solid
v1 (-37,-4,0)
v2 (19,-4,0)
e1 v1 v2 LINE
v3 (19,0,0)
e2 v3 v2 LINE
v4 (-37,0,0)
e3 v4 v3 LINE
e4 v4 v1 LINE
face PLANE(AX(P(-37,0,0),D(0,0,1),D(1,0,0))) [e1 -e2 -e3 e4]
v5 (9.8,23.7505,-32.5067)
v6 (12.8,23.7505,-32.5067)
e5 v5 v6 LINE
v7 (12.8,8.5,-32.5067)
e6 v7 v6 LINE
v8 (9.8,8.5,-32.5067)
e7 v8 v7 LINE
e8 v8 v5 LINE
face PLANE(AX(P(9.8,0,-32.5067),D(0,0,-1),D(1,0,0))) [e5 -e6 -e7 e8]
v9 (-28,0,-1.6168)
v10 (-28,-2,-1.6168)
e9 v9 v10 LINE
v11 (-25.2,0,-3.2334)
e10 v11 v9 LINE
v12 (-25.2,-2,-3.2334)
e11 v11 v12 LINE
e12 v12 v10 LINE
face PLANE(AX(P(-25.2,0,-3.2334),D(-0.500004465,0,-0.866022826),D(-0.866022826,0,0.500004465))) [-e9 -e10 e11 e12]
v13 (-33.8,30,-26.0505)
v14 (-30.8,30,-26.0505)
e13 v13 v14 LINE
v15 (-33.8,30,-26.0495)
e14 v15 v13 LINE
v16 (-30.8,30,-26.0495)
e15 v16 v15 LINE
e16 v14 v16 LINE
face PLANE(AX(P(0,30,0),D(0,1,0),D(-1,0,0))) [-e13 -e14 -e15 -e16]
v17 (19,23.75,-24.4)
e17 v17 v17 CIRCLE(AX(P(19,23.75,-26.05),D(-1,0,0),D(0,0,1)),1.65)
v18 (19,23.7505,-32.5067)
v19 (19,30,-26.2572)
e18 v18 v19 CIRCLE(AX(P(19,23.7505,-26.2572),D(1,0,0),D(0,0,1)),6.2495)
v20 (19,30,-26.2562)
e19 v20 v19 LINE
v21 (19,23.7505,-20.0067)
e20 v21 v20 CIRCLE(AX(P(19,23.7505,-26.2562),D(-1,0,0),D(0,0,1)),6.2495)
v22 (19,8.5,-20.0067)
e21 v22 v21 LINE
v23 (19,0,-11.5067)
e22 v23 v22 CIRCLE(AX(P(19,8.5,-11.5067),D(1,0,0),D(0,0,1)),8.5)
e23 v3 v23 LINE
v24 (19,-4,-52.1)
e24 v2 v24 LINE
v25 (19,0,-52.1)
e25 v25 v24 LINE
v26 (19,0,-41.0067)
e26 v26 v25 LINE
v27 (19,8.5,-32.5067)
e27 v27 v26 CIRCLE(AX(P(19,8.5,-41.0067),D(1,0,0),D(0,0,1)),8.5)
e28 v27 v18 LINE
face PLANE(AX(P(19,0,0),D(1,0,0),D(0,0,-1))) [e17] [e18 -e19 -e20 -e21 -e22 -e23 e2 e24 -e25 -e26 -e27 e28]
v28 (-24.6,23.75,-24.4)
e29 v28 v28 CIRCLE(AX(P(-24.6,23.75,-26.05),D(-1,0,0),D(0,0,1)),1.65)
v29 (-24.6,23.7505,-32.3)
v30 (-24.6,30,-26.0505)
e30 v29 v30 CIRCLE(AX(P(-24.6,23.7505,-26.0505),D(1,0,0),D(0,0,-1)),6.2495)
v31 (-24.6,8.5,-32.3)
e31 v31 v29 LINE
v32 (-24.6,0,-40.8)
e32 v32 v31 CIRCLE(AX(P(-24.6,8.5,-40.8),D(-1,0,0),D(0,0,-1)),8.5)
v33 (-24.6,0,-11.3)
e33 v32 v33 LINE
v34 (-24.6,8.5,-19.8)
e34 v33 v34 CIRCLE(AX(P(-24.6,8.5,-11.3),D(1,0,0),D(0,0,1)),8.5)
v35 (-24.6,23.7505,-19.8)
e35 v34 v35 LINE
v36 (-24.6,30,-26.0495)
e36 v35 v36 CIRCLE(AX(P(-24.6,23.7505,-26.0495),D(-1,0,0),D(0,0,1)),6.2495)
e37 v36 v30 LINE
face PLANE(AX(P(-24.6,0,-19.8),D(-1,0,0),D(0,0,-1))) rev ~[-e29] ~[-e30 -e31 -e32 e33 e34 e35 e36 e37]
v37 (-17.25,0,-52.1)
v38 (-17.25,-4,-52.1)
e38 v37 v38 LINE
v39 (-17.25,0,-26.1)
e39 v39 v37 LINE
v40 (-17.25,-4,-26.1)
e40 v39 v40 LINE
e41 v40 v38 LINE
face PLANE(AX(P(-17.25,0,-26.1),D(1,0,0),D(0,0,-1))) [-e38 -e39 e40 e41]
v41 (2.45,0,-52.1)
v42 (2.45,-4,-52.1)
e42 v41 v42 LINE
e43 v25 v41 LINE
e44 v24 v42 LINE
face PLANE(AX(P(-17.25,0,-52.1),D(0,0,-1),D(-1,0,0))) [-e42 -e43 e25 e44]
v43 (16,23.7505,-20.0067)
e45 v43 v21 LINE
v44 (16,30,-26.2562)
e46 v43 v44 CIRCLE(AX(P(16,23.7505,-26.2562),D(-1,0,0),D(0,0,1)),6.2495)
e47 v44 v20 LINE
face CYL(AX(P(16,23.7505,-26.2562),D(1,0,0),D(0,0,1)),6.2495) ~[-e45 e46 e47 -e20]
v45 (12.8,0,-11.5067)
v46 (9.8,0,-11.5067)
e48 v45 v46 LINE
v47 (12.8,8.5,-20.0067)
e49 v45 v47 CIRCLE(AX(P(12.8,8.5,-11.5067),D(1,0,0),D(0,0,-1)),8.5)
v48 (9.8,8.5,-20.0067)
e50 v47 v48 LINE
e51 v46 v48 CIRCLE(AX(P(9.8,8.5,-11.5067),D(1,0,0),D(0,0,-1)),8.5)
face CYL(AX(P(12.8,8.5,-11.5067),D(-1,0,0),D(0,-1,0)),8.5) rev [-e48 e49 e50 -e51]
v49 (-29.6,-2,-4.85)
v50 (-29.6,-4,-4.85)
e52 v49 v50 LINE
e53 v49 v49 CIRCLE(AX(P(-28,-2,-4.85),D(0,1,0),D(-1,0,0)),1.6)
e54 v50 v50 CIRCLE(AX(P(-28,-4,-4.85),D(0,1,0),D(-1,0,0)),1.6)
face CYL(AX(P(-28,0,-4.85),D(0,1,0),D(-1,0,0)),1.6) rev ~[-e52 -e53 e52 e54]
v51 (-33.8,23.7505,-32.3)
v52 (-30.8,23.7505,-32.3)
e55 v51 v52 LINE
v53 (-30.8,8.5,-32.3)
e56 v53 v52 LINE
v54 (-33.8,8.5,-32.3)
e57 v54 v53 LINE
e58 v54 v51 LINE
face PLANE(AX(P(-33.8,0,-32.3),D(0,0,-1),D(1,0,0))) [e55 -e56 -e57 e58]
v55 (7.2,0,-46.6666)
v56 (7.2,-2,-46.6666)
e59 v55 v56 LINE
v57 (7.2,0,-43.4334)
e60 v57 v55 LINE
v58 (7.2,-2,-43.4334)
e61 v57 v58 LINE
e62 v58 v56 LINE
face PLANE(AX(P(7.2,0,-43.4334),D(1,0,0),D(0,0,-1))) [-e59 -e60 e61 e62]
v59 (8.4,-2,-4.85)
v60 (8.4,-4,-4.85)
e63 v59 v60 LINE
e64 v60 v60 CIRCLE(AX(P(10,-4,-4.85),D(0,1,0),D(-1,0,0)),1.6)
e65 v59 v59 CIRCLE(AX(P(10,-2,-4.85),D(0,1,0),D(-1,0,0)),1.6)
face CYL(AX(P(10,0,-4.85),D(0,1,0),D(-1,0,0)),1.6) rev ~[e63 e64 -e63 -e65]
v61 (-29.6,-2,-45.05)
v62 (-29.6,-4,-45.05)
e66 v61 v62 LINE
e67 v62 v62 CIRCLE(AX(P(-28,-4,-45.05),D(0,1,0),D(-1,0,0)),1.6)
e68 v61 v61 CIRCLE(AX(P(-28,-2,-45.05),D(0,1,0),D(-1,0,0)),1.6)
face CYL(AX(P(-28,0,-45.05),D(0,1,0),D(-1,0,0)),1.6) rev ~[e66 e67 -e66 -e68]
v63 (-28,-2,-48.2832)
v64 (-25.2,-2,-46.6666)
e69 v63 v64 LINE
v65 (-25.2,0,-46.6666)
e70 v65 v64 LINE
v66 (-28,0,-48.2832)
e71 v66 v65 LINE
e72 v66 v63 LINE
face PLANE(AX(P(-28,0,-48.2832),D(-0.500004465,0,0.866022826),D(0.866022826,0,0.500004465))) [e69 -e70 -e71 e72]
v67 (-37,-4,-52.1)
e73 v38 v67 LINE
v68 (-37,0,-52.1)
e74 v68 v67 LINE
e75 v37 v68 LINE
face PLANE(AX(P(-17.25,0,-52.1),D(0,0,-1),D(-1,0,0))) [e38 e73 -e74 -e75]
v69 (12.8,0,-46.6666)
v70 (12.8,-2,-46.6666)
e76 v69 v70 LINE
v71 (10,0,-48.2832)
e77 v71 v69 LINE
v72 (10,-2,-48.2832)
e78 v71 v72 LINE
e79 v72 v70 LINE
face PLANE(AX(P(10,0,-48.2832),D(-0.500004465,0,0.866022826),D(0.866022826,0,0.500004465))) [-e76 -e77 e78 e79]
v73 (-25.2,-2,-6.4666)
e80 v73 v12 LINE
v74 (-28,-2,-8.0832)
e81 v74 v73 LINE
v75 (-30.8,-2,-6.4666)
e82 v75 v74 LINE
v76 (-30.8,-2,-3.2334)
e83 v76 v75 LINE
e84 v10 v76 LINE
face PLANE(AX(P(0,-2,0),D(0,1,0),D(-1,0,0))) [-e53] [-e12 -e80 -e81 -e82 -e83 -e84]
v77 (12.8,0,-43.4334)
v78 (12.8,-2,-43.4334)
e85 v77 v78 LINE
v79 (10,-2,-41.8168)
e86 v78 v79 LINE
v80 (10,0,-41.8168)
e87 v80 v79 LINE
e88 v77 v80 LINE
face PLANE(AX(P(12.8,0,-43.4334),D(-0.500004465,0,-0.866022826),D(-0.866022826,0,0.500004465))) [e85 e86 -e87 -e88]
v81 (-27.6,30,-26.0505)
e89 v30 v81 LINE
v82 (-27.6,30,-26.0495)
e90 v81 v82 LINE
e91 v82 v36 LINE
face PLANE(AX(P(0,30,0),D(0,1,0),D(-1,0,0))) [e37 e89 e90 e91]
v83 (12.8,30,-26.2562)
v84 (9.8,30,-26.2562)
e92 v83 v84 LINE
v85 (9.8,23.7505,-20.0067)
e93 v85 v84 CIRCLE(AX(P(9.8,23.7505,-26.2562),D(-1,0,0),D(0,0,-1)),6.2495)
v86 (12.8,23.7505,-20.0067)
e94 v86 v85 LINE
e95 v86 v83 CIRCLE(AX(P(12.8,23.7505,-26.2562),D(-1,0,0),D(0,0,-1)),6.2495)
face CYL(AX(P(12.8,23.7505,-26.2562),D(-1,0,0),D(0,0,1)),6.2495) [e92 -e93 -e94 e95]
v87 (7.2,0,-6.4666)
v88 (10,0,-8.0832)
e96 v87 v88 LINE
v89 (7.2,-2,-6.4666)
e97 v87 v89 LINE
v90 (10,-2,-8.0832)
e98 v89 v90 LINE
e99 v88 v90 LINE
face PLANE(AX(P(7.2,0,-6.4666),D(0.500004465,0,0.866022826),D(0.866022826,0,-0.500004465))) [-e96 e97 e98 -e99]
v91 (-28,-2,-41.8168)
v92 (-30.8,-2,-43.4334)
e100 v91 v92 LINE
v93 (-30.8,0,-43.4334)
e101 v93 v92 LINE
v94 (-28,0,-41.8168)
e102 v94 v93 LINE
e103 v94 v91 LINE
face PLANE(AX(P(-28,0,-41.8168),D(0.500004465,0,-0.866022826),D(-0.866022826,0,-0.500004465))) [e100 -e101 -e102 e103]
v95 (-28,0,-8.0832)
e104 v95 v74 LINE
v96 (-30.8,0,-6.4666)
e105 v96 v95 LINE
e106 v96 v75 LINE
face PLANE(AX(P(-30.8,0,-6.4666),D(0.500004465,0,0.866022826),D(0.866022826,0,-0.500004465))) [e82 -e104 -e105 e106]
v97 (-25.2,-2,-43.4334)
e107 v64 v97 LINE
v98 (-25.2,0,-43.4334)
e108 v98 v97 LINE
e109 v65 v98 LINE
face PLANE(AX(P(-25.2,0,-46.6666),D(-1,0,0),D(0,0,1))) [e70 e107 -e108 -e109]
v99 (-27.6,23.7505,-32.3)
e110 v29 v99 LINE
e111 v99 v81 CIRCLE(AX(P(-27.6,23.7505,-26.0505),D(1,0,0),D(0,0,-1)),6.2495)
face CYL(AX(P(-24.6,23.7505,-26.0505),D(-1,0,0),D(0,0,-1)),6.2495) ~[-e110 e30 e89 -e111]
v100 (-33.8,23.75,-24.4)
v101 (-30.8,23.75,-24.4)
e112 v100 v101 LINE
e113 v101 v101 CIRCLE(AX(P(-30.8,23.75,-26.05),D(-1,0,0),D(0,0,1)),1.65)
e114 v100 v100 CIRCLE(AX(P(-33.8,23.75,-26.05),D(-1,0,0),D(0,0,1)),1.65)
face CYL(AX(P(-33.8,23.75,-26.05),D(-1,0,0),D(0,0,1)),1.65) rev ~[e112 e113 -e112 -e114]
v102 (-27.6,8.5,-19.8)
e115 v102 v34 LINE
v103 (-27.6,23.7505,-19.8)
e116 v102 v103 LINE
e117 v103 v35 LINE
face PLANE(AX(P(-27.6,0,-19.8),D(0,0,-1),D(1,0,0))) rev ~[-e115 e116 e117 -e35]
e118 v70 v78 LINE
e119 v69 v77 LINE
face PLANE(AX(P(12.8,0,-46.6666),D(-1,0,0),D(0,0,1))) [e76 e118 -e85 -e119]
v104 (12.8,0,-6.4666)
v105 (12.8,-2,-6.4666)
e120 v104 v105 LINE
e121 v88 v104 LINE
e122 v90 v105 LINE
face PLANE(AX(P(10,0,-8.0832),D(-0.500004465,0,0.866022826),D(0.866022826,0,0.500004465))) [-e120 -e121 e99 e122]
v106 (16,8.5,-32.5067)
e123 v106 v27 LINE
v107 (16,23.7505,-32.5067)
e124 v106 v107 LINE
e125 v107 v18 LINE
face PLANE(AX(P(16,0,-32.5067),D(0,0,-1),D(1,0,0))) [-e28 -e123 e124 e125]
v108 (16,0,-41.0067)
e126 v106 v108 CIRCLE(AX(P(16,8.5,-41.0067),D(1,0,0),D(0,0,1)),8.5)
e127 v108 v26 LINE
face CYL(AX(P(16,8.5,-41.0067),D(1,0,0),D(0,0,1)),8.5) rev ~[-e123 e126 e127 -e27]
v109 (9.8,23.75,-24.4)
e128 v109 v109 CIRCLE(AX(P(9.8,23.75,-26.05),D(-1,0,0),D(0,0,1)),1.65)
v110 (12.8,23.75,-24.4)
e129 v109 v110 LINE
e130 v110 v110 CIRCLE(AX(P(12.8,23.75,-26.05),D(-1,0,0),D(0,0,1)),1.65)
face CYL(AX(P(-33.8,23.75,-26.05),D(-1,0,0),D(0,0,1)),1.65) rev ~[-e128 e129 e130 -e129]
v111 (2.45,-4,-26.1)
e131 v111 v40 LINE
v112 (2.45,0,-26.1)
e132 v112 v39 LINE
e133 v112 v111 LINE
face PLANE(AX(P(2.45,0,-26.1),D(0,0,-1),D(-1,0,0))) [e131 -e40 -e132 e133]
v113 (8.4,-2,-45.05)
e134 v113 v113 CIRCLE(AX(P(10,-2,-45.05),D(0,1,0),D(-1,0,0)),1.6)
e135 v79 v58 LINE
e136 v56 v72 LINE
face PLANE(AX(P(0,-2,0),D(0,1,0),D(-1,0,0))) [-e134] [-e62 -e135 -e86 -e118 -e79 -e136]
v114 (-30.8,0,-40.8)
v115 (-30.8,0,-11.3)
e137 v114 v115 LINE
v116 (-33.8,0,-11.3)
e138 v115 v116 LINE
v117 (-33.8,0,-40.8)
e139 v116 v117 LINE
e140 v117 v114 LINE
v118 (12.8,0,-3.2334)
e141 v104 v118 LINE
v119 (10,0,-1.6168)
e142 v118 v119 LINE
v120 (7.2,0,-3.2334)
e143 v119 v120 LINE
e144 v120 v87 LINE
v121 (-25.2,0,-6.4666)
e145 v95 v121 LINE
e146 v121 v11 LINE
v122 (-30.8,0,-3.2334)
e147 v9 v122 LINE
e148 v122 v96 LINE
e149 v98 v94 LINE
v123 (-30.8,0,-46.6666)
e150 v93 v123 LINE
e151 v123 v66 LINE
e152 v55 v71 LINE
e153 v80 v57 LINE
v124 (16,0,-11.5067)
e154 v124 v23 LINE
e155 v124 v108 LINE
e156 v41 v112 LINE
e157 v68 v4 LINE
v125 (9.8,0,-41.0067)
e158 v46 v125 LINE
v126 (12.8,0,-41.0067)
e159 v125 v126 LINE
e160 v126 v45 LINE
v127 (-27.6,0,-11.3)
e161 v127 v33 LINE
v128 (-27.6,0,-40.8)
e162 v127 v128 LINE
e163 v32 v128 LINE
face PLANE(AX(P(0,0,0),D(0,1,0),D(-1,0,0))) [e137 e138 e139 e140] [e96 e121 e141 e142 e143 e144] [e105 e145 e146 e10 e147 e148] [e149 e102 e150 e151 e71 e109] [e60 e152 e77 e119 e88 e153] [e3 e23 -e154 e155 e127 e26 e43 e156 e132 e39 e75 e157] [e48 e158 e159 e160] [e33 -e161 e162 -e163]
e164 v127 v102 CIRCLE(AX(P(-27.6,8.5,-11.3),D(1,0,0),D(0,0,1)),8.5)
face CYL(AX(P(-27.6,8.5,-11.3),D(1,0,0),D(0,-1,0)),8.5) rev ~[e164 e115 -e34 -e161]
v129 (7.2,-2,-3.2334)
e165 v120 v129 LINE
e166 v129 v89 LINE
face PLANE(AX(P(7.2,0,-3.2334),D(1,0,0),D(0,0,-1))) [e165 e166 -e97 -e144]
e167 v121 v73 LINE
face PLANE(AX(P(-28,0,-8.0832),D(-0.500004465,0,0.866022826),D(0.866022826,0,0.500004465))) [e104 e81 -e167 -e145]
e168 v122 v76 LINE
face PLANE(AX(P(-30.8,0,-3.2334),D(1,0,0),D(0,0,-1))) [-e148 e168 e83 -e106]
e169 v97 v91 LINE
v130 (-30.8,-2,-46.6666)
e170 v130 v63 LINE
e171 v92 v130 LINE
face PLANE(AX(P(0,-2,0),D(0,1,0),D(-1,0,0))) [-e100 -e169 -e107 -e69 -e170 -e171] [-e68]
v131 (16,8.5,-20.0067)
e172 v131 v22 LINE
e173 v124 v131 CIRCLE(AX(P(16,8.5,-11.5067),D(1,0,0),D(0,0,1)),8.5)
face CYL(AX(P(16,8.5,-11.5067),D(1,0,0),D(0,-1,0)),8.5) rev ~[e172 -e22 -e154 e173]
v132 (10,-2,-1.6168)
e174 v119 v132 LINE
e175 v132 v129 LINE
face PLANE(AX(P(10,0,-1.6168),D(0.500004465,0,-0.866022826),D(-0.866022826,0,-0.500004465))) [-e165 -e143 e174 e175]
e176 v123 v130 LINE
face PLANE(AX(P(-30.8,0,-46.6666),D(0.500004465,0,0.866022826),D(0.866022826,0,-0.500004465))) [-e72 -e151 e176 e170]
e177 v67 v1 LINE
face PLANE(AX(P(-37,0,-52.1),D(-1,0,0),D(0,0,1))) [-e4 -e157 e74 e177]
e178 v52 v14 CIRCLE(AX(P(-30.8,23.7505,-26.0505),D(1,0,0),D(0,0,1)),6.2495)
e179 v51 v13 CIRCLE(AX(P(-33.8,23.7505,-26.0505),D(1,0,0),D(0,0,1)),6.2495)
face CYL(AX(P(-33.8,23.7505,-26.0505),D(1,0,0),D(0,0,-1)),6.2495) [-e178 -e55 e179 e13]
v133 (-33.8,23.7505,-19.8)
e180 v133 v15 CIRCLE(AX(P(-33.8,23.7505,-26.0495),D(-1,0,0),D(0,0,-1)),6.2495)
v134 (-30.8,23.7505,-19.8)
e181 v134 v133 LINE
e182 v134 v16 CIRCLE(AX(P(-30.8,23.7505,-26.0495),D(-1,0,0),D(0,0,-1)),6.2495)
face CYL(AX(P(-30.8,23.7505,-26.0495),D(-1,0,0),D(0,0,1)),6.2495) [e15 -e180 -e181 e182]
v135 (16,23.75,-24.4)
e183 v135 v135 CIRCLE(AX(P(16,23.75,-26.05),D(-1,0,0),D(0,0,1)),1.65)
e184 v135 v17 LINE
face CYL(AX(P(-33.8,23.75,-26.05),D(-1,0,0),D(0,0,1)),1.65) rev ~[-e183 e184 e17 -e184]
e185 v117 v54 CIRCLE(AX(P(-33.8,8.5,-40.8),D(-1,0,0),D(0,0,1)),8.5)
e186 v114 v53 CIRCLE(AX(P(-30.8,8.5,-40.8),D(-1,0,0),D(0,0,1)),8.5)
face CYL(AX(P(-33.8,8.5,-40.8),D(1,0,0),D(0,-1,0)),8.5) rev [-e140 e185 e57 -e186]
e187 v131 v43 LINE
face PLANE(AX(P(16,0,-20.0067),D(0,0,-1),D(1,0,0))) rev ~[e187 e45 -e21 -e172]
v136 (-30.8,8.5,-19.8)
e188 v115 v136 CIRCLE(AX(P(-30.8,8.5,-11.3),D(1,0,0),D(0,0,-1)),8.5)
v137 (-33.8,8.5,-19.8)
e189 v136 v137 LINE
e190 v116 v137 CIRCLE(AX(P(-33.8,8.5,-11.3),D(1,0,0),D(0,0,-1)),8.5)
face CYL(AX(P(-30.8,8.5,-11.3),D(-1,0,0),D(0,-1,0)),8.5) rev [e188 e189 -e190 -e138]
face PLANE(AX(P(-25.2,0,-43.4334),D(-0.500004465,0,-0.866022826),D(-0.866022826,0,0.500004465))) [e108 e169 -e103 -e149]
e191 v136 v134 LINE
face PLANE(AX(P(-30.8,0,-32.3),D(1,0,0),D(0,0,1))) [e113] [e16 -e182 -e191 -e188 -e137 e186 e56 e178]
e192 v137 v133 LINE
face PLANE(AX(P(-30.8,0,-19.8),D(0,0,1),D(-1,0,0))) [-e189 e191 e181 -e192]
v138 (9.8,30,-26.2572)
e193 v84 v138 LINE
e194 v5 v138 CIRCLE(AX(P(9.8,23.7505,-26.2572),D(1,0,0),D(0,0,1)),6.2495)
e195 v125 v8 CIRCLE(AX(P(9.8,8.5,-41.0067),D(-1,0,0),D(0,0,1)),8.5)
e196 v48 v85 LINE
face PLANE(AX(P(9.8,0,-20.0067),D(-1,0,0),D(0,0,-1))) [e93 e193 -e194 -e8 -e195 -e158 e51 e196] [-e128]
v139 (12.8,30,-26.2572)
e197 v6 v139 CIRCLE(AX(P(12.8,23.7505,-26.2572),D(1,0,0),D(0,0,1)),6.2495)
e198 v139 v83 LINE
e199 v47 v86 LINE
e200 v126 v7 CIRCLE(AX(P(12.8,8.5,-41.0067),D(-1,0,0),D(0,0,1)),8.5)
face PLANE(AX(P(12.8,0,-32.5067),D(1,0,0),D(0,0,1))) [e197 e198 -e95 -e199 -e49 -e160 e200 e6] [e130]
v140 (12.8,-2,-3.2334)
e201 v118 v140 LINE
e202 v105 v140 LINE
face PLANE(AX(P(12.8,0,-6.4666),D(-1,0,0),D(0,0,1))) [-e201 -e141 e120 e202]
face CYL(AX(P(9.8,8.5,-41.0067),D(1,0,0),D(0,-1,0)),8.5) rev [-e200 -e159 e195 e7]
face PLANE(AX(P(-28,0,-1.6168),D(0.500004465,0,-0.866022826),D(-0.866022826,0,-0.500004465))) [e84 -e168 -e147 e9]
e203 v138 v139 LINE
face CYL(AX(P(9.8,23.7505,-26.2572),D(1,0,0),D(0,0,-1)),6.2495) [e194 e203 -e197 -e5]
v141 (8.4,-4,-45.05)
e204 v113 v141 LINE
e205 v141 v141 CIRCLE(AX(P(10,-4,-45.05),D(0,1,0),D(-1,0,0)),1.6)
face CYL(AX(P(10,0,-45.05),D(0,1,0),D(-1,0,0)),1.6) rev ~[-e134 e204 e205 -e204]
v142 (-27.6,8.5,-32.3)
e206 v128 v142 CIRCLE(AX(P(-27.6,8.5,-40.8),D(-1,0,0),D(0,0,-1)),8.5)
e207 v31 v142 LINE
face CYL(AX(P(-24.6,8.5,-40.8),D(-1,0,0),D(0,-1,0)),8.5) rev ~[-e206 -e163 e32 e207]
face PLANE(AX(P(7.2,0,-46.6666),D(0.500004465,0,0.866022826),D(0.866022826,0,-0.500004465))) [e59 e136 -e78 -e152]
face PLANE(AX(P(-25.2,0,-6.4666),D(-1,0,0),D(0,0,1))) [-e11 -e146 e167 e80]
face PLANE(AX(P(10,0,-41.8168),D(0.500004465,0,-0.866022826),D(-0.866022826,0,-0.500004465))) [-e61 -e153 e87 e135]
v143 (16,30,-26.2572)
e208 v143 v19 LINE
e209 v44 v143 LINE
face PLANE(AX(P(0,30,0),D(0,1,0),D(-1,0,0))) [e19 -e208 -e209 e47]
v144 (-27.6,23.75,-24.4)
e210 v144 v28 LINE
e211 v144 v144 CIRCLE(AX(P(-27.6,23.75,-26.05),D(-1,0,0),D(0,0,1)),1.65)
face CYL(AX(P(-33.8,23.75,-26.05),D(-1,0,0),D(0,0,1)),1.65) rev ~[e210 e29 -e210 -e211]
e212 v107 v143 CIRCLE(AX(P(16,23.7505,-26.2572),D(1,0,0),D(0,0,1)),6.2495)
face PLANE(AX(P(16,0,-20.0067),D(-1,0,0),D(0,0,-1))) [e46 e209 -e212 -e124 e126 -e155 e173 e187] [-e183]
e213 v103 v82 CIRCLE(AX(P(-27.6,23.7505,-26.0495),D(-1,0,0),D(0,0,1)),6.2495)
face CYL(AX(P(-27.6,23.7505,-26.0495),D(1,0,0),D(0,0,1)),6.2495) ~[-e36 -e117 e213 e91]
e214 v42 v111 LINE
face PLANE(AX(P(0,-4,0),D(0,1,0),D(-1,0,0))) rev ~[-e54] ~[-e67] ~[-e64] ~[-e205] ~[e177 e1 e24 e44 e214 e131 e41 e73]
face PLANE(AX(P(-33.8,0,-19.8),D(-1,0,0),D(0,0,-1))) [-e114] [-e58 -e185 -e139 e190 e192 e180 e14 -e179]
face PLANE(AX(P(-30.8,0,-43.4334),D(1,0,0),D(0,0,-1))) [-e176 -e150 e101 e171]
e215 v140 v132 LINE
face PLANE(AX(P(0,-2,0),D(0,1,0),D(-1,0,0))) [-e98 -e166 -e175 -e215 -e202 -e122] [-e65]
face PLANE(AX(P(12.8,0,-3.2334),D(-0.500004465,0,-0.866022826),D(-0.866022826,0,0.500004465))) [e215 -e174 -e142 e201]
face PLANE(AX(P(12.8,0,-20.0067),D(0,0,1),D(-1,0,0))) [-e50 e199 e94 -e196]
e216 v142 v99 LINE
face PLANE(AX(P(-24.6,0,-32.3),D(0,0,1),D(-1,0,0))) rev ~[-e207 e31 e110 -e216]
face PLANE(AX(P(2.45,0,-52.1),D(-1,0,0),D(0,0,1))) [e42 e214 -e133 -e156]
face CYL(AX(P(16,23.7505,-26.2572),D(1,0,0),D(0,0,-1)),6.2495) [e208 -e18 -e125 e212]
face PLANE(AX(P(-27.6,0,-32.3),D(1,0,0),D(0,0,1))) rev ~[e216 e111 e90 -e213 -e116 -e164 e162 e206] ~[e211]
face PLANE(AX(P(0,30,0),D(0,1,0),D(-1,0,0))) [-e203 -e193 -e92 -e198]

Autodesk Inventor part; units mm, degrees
ref_plane "YZ Plane" through (0, 0, 0) normal (1, 0, 0) x (0, 1, 0)
ref_plane "XZ Plane" through (0, 0, 0) normal (0, 1, 0) x (-1, 0, 0)
ref_plane "XY Plane" through (0, 0, 0) normal (0, 0, 1) x (1, 0, 0)
sketch "Sketch1" plane through (0, 0, 0) normal (0, 1, 0) x (-1, 0, 0)
  circle A0 centre (28, -4.85) radius 1.6
  line L0 (28, -8.0832) -> (25.2, -6.4666)
  line L1 (25.2, -6.4666) -> (25.2, -3.2334)
  line L2 (25.2, -3.2334) -> (28, -1.6168)
  line L3 (28, -1.6168) -> (30.8, -3.2334)
  line L4 (30.8, -3.2334) -> (30.8, -6.4666)
  line L5 (30.8, -6.4666) -> (28, -8.0832)
  line L6 (-16, -20.0067) -> (-16, -32.5067)
  line L7 (37, -52.1) -> (37, 0)
  line L8 (-16, -32.5067) -> (-19, -32.5067)
  line L9 (-16, -20.0067) -> (-19, -20.0067)
  line L10 (-12.8, -32.5067) -> (-12.8, -20.0067)
  line L11 (-12.8, -20.0067) -> (-9.8, -20.0067)
  line L12 (-9.8, -20.0067) -> (-9.8, -32.5067)
  line L13 (-9.8, -32.5067) -> (-12.8, -32.5067)
  line L14 (33.8, -32.3) -> (30.8, -32.3)
  line L15 (30.8, -32.3) -> (30.8, -19.8)
  line L16 (30.8, -19.8) -> (33.8, -19.8)
  line L17 (33.8, -19.8) -> (33.8, -32.3)
  line L18 (27.6, -32.3) -> (27.6, -19.8)
  line L19 (27.6, -19.8) -> (24.6, -19.8)
  line L20 (24.6, -19.8) -> (24.6, -32.3)
  line L21 (24.6, -32.3) -> (27.6, -32.3)
  line L22 (-19, -20.0067) -> (-19, -32.5067)
  line L23 (37, 0) -> (-19, 0)
  line L24 (-19, 0) -> (-19, -52.1)
  line L25 (-19, -52.1) -> (37, -52.1)
  circle A1 centre (-10, -4.85) radius 1.6
  line L26 (-10, -8.0832) -> (-12.8, -6.4666)
  line L27 (-12.8, -6.4666) -> (-12.8, -3.2334)
  line L28 (-12.8, -3.2334) -> (-10, -1.6168)
  line L29 (-10, -1.6168) -> (-7.2, -3.2334)
  line L30 (-7.2, -3.2334) -> (-7.2, -6.4666)
  line L31 (-7.2, -6.4666) -> (-10, -8.0832)
  circle A2 centre (-10, -45.05) radius 1.6
  line L32 (-10, -48.2832) -> (-12.8, -46.6666)
  line L33 (-7.2, -46.6666) -> (-10, -48.2832)
  line L34 (-7.2, -43.4334) -> (-7.2, -46.6666)
  line L35 (-12.8, -46.6666) -> (-12.8, -43.4334)
  line L36 (-10, -41.8168) -> (-7.2, -43.4334)
  line L37 (-12.8, -43.4334) -> (-10, -41.8168)
  line L38 (30.8, -46.6666) -> (28, -48.2832)
  line L39 (28, -48.2832) -> (25.2, -46.6666)
  circle A3 centre (28, -45.05) radius 1.6
  line L40 (30.8, -43.4334) -> (30.8, -46.6666)
  line L41 (28, -41.8168) -> (30.8, -43.4334)
  line L42 (25.2, -46.6666) -> (25.2, -43.4334)
  line L43 (25.2, -43.4334) -> (28, -41.8168)
  line L44 (-2.45, -26.1) -> (17.25, -26.1)
  line L45 (17.25, -26.1) -> (17.25, -52.1)
  line L46 (17.25, -52.1) -> (-2.45, -52.1)
  line L47 (-2.45, -52.1) -> (-2.45, -26.1)
  point P0 (-17.5, -20.0067)
  point P1 (26.1, -19.8)
  point P2 (-11.3, -20.0067)
  point P3 (32.3, -32.3)
  point P4 (30.8, -4.85)
  point P5 (-7.2, -4.85)
  point P6 (-7.2, -45.05)
  point P7 (30.8, -45.05)
  point P8 (-12.8, -45.05)
  dimension "d2" = 3.2
  dimension "d5" = 5.6
  dimension "d63" = 3.2
  dimension "d64" = 3
  dimension "d65" = 3
  dimension "d67" = 12.5
  dimension "d69" = 3.2
  dimension "d70" = 3.2
  dimension "d71" = 12.5
  dimension "d121" = 3.2
  dimension "d122" = 5.6
  dimension "d123" = 4.85
  dimension "d124" = 4.85
  dimension "d126" = 6.2
  dimension "d128" = 3.2
  dimension "d129" = 5.6
  dimension "d130" = 3.2
  dimension "d131" = 5.6
  dimension "d133" = 56
  dimension "d137" = 7.05
  dimension "d138" = 52.1
  dimension "d139" = 40.2
  dimension "d140" = 7.05
  dimension "d141" = 6.2
  dimension "d143" = 19.7
  dimension "d144" = 26
  dimension "d147" = 0
  dimension "d148" = 34.4
  dimension "d149" = 7.35
  dimension "d150" = 16.55
  dimension "d161" = 6.2
  dimension "d163" = 6.2
extrude "Extrusão6" add sketch "Sketch1" against normal blind 4 contours A0 | L0 L1 L2 L3 L4 L5 | L9 L24 L23 L7 L25 L45 L44 L47 L8 L6 | L6 L8 L22 L9 | L47 L44 L45 L25 | L10 L11 L12 L13 | L14 L15 L16 L17 | L21 L20 L19 L18 | A1 | L26 L27 L28 L29 L30 L31 | A2 | L32 L35 L37 L36 L34 L33 | L38 L39 L42 L43 L41 L40 | A3
extrude "Extrusão7" add sketch "Sketch1" along normal blind 30 contours L6 L8 L22 L9 | L10 L11 L12 L13 | L14 L15 L16 L17 | L21 L20 L19 L18
fillet "Arredondamento5" radius 6.25 8 edges at (17.5, 30, -20.0067) (17.5, 30, -32.5067) (11.3, 30, -32.5067) (11.3, 30, -20.0067) (-26.1, 30, -19.8) (-26.1, 30, -32.3) (-32.3, 30, -32.3) (-32.3, 30, -19.8)
fillet "Arredondamento7" radius 8.5 8 edges at (17.5, 0, -32.5067) (11.3, 0, -32.5067) (-26.1, 0, -32.3) (-32.3, 0, -32.3) (-32.3, 0, -19.8) (-26.1, 0, -19.8) (11.3, 0, -20.0067) (17.5, 0, -20.0067)
extrude "Extrusão13" cut sketch "Sketch1" against normal blind 10 contours L47 L44 L45 L25
extrude "Extrusão14" cut sketch "Sketch1" against normal blind 10 contours A0 | A1 | A2 | A3
extrude "Extrusão15" cut sketch "Sketch1" against normal blind 2 contours L0 L1 L2 L3 L4 L5 | A1 | L26 L27 L28 L29 L30 L31 | L32 L35 L37 L36 L34 L33 | L38 L39 L42 L43 L41 L40 | A3
sketch "Esboço4" plane through (-33.8, 23.75, -26.05) normal (-1, 0, 0) x (0, 0, 1)
  circle A0 centre (0, 0) radius 1.65
  point P0 (26.05, -23.75)
  dimension "d158" = 3.3
extrude "Extrusão16" cut sketch "Esboço4" against normal blind 100
properties part number "encaixeDuplo3"
